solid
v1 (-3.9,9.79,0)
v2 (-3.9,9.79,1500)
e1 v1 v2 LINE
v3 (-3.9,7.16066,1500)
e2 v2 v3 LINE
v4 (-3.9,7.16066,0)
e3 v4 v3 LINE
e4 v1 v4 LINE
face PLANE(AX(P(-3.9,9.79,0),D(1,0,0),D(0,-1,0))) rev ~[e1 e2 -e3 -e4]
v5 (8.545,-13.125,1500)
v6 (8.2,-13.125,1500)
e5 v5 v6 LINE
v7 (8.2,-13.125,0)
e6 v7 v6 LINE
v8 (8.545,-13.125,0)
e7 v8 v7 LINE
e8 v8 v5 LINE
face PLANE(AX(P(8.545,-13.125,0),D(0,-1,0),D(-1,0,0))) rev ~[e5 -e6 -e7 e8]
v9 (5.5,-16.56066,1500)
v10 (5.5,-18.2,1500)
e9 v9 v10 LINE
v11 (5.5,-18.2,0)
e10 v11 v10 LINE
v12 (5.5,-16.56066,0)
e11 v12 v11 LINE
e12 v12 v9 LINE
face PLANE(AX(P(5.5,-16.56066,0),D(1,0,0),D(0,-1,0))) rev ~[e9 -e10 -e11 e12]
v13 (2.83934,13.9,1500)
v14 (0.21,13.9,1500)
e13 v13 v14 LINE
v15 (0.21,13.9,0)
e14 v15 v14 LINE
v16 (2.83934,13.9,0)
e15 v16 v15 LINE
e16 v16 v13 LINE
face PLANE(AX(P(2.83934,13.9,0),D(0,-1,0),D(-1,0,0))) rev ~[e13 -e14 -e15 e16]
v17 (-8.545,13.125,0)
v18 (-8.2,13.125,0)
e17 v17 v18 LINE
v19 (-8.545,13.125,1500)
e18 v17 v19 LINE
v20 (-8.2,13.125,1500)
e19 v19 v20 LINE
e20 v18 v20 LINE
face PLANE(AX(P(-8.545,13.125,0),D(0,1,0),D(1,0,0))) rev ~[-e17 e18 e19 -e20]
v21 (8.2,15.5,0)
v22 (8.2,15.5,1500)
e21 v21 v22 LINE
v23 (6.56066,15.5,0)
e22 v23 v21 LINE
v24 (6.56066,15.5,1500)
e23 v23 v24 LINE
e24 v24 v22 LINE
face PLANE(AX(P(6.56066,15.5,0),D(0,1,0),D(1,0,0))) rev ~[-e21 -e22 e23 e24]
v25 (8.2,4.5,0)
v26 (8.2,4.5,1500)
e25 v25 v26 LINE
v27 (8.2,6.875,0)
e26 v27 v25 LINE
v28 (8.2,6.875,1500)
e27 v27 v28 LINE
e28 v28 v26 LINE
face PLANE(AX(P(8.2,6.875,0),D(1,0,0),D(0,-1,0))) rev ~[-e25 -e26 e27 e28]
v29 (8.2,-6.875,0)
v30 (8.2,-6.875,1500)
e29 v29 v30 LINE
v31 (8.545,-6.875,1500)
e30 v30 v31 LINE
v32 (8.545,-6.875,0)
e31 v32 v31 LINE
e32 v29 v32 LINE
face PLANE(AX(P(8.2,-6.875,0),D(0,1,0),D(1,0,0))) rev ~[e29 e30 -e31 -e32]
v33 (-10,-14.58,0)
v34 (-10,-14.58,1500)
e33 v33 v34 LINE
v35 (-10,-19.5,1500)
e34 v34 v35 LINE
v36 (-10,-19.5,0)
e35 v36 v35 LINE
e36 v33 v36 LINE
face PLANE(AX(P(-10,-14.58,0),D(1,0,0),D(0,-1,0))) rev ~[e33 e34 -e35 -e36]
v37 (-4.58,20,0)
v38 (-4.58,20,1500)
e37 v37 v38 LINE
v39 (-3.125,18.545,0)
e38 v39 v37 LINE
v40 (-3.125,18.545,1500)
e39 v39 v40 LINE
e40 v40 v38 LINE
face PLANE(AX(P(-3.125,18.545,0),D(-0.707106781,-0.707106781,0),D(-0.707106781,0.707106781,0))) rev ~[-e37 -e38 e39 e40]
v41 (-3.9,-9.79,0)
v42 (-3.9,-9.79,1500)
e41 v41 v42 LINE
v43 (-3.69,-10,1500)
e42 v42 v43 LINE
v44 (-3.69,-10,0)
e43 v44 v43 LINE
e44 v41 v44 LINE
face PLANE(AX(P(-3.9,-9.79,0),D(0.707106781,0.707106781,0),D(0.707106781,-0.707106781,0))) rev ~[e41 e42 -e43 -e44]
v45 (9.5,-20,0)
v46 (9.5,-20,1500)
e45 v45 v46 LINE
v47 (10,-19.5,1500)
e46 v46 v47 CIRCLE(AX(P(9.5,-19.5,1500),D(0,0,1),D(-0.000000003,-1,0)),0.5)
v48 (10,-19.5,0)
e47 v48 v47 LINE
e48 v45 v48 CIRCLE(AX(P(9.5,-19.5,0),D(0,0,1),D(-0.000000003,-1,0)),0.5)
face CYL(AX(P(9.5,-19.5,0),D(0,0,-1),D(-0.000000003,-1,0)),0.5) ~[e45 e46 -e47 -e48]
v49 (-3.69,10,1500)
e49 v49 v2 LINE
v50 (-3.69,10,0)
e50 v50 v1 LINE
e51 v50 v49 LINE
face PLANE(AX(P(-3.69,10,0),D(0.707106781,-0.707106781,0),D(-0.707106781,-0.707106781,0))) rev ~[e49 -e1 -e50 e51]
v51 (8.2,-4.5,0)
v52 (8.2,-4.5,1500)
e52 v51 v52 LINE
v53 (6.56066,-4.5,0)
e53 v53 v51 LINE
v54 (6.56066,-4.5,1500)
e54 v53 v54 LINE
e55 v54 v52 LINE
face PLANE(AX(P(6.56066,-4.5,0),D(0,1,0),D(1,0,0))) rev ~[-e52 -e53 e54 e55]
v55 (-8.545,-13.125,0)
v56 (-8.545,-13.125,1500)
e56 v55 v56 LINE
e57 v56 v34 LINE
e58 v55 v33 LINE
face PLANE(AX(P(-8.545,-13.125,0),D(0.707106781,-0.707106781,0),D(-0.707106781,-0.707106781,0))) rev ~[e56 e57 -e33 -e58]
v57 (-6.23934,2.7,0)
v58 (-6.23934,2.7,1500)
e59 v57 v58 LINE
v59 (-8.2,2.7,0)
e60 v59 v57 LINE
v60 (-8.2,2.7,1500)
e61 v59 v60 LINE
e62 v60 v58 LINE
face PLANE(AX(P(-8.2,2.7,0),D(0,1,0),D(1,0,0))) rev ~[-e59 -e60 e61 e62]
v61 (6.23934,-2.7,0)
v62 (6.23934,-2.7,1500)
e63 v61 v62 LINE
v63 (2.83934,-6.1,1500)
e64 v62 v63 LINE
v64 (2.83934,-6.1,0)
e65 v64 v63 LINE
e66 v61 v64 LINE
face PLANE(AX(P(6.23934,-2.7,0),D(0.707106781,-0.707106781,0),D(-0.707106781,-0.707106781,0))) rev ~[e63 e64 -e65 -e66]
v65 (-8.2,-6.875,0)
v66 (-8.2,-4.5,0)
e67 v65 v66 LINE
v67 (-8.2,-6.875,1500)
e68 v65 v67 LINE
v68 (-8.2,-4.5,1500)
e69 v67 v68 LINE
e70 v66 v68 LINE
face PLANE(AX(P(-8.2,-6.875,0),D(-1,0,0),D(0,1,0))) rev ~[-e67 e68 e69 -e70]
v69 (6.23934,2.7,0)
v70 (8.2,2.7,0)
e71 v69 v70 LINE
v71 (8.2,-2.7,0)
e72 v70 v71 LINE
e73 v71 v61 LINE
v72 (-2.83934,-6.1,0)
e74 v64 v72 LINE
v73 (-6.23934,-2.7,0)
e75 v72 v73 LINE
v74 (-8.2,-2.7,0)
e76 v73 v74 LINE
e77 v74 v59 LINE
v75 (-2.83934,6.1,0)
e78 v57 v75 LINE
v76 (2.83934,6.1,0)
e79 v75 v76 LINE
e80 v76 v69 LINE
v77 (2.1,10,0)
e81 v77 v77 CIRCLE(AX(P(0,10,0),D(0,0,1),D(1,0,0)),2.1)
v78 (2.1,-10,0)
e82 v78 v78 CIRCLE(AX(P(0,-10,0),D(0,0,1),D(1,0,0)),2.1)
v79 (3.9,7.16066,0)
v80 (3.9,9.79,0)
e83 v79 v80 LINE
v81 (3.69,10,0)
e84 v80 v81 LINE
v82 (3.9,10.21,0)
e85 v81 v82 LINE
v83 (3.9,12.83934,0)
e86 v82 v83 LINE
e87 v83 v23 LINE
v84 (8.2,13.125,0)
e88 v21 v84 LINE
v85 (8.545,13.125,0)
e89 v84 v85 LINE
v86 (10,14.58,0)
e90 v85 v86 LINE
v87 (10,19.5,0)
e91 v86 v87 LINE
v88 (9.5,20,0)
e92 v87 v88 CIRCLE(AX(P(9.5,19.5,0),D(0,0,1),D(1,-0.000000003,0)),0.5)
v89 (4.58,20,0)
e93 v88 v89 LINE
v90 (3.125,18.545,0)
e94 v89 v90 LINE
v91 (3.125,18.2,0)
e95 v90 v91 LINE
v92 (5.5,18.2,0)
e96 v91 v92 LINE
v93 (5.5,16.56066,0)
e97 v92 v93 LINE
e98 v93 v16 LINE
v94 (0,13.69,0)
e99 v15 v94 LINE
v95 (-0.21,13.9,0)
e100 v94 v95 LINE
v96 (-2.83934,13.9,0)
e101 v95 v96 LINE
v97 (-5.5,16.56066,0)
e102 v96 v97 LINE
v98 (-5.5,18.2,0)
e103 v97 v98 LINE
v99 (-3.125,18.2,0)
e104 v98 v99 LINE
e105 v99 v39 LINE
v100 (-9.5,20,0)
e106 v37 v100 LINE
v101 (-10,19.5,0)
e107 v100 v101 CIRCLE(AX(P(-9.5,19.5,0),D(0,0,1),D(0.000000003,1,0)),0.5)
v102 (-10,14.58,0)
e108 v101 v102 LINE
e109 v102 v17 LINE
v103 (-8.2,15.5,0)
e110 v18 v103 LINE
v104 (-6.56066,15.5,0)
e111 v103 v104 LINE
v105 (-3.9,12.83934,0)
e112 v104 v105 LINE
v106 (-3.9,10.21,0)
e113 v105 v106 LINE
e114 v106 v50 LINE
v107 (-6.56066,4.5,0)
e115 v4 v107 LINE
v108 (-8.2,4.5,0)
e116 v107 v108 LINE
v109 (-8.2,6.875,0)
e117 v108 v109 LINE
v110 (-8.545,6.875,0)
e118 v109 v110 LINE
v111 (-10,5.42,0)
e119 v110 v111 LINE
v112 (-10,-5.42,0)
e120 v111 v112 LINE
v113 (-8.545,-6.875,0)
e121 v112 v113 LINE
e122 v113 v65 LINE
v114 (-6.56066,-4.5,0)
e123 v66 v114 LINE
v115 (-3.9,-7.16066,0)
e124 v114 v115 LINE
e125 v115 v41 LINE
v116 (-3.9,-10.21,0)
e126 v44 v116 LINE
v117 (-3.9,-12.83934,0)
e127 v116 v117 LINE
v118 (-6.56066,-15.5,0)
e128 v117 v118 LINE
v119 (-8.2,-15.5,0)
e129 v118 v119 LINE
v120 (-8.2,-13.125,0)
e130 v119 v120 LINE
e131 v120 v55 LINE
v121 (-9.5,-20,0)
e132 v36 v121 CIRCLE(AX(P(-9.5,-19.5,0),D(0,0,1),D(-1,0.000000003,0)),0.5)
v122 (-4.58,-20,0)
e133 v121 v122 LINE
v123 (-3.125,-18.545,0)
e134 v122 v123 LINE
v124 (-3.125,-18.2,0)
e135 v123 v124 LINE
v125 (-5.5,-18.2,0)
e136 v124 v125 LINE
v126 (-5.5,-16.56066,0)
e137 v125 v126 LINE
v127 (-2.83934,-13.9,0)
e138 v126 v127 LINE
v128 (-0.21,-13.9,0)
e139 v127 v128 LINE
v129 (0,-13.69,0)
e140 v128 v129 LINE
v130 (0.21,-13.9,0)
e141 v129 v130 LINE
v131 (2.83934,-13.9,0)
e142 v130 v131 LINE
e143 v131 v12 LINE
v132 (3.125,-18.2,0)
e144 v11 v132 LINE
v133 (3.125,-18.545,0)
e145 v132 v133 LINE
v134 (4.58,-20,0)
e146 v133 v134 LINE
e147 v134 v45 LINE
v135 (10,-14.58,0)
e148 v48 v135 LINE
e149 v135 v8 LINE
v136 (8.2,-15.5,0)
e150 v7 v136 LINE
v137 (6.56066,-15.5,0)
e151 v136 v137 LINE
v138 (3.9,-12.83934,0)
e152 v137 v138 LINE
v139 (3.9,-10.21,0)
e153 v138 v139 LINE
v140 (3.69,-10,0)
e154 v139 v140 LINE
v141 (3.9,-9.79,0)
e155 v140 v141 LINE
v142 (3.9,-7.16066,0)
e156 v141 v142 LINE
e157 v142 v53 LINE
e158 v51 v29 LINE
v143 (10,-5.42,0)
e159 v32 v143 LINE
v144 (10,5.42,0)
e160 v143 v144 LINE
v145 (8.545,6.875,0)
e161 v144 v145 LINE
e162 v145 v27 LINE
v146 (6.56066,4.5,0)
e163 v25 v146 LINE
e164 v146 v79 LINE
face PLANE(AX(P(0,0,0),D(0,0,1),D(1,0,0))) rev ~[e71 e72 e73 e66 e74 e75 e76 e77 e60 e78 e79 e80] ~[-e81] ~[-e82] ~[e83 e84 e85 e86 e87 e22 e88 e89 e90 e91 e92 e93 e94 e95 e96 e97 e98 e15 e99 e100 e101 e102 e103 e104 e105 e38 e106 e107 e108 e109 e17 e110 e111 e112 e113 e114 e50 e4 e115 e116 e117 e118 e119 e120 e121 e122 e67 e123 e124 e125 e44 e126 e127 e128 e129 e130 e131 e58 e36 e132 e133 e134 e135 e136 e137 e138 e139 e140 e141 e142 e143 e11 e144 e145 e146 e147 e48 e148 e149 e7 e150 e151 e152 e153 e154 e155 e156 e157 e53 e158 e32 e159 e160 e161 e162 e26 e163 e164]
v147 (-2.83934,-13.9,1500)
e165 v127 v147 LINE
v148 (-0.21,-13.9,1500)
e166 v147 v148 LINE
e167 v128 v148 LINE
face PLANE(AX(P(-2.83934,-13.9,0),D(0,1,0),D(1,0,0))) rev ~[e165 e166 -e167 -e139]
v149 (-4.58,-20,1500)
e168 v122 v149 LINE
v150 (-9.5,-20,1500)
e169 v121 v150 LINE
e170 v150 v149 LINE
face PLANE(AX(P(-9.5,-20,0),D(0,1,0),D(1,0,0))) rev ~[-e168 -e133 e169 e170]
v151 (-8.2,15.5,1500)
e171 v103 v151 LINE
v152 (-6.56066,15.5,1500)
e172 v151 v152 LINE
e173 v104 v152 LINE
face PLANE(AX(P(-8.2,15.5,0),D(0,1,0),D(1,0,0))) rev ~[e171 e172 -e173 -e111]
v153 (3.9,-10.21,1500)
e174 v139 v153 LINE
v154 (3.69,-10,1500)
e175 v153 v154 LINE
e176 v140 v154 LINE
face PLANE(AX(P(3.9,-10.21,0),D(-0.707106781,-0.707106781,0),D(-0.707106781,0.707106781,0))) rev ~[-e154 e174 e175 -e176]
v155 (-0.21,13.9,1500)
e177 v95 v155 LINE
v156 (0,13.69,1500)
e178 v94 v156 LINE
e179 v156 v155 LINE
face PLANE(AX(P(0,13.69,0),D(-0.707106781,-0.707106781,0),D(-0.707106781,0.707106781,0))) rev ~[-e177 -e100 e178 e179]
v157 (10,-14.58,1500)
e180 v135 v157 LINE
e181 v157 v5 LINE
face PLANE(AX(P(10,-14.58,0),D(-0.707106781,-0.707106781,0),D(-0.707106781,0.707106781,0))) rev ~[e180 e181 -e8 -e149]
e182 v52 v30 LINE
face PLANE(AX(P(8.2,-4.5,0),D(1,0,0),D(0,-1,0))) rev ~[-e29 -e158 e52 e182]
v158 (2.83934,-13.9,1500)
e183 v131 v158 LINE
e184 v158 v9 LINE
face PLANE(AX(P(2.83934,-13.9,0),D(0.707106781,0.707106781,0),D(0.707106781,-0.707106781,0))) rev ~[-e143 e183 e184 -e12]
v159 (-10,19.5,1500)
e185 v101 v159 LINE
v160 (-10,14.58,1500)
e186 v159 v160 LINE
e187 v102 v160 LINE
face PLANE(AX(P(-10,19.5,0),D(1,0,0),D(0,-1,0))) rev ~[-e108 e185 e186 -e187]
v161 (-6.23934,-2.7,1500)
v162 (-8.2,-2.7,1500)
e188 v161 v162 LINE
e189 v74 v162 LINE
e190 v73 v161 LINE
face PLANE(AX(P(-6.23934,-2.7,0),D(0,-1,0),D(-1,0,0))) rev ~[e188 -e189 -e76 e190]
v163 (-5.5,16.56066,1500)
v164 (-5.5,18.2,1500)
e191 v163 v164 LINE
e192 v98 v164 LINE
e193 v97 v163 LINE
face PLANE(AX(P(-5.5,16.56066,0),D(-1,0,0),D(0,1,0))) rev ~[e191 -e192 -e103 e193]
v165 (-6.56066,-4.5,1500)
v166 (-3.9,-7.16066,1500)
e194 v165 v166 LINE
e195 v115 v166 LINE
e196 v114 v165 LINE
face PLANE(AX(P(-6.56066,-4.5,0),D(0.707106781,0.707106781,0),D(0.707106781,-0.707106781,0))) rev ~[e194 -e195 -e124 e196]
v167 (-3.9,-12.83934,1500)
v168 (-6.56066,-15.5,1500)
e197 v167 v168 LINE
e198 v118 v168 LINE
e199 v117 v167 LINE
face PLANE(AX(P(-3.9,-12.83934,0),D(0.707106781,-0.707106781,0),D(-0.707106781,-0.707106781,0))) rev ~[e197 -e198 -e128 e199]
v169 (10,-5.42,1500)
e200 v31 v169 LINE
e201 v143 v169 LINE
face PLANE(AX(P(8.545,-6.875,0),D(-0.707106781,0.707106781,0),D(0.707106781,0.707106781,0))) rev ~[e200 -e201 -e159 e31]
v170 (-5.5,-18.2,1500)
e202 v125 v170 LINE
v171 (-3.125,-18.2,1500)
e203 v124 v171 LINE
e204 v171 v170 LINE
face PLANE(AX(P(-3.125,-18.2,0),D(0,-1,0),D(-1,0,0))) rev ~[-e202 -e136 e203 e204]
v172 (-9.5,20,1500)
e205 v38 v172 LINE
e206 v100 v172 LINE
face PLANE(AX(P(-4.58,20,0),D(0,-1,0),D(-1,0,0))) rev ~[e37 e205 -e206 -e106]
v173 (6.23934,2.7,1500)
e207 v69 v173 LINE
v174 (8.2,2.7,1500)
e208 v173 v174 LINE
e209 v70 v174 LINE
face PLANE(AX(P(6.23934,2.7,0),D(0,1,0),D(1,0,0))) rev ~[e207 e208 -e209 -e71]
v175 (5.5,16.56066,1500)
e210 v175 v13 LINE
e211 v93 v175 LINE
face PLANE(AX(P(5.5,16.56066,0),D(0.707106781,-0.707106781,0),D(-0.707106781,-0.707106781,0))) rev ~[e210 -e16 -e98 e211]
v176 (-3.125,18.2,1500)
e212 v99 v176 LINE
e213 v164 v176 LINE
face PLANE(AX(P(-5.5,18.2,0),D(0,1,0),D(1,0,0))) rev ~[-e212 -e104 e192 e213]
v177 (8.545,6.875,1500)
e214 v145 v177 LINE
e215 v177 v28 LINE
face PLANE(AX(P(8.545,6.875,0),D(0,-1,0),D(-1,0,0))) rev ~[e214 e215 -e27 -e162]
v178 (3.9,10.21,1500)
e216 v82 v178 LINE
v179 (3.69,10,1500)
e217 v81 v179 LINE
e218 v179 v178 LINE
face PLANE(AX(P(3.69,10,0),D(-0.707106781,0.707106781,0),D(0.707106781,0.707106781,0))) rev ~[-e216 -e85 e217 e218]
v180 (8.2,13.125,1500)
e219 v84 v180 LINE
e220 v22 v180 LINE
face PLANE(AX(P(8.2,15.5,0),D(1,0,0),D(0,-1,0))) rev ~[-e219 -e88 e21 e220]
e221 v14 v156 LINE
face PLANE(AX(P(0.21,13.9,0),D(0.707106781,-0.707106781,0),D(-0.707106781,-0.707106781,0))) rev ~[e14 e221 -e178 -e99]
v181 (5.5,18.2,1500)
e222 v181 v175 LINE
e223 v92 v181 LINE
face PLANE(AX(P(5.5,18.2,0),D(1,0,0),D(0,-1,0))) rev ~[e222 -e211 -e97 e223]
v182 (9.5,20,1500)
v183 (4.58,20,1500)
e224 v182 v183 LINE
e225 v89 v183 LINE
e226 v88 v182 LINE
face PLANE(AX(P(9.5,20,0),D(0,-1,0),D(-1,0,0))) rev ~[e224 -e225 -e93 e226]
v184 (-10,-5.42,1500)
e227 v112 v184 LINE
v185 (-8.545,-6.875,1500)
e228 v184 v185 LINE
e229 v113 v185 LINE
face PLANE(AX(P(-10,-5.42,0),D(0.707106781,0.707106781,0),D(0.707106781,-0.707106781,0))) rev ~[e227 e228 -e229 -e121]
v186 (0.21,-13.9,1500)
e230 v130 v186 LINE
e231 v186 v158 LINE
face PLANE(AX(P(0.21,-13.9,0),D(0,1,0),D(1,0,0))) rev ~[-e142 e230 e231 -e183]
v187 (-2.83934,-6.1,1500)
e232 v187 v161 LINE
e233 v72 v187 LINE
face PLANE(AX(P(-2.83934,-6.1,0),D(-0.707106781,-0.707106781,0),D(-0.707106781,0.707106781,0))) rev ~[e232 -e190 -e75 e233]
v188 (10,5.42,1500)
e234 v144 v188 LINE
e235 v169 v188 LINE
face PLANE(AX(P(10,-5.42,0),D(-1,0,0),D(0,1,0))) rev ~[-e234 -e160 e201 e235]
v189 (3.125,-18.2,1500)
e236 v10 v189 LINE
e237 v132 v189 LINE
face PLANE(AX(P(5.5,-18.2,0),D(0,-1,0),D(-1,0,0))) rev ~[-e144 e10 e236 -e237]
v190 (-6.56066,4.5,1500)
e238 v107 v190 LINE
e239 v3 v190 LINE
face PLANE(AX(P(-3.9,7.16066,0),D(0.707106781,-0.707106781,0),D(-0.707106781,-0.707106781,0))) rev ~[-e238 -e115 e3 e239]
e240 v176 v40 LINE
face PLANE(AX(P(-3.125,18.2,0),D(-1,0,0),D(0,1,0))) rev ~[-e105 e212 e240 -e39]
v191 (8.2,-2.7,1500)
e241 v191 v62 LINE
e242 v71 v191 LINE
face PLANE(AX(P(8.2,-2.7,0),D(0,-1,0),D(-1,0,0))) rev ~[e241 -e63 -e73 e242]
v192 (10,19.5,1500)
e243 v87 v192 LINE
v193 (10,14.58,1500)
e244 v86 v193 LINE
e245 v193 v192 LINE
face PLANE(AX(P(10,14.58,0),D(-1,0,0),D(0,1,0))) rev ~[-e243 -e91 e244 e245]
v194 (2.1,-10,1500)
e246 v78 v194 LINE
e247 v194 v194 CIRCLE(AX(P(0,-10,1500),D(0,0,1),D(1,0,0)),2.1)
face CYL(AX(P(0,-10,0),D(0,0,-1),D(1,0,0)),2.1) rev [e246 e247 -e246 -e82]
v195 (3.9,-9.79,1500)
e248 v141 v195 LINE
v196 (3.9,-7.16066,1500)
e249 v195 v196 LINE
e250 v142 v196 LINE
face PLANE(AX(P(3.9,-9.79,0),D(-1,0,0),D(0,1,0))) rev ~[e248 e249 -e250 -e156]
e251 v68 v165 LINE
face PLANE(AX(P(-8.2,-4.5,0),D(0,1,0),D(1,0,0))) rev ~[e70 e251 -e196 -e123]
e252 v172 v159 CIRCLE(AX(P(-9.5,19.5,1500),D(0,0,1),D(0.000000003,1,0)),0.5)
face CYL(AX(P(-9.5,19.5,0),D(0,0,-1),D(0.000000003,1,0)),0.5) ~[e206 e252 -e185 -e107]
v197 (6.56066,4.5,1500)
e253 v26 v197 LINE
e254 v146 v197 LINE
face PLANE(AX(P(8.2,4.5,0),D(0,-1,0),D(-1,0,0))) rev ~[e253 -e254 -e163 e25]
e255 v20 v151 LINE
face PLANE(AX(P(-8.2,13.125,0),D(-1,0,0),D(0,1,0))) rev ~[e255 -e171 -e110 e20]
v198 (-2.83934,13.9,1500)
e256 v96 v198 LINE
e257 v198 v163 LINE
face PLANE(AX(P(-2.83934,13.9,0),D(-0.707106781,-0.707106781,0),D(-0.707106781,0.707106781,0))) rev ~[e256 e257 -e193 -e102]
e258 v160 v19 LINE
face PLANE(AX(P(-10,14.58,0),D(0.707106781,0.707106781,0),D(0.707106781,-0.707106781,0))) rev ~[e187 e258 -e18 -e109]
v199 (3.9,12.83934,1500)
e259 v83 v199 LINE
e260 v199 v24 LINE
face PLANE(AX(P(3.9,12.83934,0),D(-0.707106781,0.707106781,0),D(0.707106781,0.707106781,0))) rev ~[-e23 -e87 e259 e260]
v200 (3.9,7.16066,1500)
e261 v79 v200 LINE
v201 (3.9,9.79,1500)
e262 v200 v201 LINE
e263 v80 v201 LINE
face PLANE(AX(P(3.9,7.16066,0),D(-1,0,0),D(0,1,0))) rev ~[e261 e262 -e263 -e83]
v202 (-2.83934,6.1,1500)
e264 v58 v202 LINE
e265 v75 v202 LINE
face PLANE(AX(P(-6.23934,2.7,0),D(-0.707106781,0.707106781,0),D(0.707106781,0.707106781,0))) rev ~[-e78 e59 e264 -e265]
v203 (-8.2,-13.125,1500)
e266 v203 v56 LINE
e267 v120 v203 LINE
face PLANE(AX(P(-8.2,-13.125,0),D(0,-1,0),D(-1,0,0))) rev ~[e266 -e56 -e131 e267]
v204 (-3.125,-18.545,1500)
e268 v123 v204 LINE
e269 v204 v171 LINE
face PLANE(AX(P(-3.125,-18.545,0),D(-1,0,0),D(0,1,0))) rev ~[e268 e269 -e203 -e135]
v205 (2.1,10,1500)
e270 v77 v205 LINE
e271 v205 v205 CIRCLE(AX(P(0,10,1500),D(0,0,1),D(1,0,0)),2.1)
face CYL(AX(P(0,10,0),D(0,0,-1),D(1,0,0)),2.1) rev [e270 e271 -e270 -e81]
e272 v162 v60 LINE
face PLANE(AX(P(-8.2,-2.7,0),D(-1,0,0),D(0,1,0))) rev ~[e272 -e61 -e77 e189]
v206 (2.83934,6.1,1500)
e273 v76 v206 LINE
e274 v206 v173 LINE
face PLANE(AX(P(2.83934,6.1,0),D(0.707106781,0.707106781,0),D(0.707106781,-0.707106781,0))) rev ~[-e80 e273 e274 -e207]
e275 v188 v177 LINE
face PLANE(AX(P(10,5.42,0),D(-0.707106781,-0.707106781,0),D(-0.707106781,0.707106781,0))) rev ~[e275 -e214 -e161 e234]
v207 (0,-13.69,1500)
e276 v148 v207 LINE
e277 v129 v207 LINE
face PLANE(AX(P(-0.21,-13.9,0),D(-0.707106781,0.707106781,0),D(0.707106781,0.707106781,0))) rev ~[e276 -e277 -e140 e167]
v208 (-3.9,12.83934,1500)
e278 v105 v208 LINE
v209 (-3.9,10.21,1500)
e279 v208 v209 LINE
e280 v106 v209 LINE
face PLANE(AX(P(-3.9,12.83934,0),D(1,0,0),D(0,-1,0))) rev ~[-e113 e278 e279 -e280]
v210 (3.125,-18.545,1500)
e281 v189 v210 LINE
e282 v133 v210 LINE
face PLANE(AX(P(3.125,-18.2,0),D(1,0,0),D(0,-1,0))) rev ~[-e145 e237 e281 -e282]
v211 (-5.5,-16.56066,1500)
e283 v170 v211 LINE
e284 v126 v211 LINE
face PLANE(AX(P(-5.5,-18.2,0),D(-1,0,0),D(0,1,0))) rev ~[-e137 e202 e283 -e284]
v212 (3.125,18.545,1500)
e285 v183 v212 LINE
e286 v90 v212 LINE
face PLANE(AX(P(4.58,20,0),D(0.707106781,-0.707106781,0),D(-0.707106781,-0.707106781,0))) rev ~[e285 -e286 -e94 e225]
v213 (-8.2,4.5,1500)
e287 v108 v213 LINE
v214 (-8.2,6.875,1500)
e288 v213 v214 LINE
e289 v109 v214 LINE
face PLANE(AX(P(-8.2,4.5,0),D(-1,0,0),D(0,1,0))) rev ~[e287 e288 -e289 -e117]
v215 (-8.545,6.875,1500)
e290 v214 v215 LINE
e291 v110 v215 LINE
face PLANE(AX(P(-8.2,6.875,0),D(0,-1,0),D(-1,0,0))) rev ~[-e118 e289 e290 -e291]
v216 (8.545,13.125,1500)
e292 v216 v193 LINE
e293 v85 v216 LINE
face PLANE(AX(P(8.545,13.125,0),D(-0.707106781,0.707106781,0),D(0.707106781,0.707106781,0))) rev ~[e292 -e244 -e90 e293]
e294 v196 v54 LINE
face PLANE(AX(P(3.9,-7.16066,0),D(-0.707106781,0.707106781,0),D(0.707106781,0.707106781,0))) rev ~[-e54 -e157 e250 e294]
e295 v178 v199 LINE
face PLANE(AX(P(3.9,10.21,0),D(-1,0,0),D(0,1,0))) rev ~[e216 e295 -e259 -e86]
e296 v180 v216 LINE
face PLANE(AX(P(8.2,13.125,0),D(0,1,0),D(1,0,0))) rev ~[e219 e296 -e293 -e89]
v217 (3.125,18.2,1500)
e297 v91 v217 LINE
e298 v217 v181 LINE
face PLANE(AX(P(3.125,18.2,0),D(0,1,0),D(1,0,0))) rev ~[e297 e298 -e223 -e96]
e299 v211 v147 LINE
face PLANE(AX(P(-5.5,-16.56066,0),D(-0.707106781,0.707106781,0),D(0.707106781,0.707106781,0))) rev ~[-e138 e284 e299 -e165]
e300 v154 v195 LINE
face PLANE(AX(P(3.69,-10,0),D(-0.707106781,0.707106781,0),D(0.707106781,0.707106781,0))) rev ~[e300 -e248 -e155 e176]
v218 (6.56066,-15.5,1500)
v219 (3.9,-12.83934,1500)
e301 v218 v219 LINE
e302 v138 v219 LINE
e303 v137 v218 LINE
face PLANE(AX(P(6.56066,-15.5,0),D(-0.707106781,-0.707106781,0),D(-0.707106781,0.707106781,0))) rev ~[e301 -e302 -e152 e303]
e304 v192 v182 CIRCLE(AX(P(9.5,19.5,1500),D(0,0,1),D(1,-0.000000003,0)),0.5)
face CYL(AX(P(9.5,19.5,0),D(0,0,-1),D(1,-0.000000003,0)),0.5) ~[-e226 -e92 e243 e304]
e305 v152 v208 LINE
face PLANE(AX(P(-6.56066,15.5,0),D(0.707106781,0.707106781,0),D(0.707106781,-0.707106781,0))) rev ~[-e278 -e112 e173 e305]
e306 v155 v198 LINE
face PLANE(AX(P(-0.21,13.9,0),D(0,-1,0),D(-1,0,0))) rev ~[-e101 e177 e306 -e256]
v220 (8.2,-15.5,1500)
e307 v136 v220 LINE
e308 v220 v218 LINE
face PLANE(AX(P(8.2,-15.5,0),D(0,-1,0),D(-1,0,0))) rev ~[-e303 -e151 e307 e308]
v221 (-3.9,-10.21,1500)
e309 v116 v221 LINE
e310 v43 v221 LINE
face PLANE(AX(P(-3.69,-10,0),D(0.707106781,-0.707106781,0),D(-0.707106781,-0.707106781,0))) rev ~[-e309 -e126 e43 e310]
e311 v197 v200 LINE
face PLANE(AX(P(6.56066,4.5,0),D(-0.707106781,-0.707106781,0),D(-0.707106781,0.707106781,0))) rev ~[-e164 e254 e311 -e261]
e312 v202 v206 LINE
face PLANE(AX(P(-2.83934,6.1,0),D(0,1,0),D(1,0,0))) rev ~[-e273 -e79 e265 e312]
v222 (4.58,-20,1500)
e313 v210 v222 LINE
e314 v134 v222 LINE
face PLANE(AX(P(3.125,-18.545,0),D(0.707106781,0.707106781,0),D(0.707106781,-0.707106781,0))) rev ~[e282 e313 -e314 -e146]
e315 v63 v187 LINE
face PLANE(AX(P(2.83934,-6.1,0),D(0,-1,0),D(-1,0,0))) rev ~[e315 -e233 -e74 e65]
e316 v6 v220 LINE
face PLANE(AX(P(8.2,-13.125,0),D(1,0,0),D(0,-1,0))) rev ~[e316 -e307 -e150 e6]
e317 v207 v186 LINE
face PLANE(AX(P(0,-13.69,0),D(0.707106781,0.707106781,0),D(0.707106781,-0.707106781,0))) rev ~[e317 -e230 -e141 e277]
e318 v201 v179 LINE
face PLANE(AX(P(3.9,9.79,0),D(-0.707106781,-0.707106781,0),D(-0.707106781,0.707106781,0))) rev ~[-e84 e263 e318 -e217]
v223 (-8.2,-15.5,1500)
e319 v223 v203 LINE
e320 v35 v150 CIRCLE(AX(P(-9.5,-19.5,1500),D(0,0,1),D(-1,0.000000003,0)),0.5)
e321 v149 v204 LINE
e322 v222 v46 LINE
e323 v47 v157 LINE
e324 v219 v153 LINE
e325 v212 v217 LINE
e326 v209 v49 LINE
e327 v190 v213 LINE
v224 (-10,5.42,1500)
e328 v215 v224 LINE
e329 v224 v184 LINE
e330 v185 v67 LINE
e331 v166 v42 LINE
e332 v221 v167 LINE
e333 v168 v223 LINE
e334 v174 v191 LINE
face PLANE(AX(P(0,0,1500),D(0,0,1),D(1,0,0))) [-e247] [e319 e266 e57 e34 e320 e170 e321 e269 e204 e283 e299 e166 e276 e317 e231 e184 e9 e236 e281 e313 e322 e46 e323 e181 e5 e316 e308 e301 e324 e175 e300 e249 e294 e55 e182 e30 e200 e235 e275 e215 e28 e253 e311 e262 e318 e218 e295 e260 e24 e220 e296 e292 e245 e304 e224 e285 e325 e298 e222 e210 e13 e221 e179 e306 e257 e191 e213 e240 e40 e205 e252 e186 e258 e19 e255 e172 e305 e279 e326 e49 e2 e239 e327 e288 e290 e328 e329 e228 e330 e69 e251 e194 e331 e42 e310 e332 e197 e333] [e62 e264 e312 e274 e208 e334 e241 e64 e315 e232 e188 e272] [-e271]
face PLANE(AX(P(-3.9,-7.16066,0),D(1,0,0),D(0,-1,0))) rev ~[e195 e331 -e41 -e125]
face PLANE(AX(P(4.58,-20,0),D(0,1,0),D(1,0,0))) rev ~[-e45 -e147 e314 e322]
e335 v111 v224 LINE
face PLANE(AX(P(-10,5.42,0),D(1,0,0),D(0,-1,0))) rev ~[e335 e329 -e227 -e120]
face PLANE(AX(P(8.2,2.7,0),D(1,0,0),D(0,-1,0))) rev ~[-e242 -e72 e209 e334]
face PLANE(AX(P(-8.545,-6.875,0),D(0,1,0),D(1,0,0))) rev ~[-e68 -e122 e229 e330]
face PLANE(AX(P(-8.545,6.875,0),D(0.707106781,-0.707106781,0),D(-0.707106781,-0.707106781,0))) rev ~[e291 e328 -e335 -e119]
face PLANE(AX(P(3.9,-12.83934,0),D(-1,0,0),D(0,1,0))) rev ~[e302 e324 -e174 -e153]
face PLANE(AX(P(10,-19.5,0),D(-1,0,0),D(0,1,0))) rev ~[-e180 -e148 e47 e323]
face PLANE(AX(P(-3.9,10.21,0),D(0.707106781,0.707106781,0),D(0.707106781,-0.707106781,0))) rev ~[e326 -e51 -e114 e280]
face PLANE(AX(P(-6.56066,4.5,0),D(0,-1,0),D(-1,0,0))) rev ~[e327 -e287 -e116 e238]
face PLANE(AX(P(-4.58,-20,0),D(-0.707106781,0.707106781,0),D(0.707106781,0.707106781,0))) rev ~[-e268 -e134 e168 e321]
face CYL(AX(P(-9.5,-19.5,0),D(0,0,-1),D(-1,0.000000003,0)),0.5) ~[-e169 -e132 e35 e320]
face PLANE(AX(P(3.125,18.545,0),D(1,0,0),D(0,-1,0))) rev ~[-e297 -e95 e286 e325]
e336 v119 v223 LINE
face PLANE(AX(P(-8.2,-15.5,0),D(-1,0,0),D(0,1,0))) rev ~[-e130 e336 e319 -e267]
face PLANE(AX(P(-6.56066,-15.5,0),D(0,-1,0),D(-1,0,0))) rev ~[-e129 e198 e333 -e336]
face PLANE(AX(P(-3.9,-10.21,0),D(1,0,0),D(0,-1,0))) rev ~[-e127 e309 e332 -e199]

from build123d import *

# Parameters (mm, degrees)
SKETCH1_R           = 2.1
BOSS_EXTRUDE1_DEPTH = 1500


with BuildPart() as part:
    # Sketch1 → Boss-Extrude1 (new body)
    with BuildSketch(Plane.XY):
        with BuildLine():
            Line((4.58, -20), (9.5, -20))
            ThreePointArc((9.5, -20), (9.853553391, -19.853553391), (10, -19.5))
            Line((10, -19.5), (10, -14.58))
            Line((10, -14.58), (8.545, -13.125))
            Line((8.545, -13.125), (8.2, -13.125))
            Line((8.2, -13.125), (8.2, -15.5))
            Line((8.2, -15.5), (6.560660172, -15.5))
            Line((6.560660172, -15.5), (3.9, -12.839339828))
            Line((3.9, -12.839339828), (3.9, -10.21))
            Line((3.9, -10.21), (3.69, -10))
            Line((3.69, -10), (3.9, -9.79))
            Line((3.9, -9.79), (3.9, -7.160660172))
            Line((3.9, -7.160660172), (6.560660172, -4.5))
            Line((6.560660172, -4.5), (8.2, -4.5))
            Line((8.2, -4.5), (8.2, -6.875))
            Line((8.2, -6.875), (8.545, -6.875))
            Line((8.545, -6.875), (10, -5.42))
            Line((10, -5.42), (10, 5.42))
            Line((10, 5.42), (8.545, 6.875))
            Line((8.545, 6.875), (8.2, 6.875))
            Line((8.2, 6.875), (8.2, 4.5))
            Line((8.2, 4.5), (6.560660172, 4.5))
            Line((6.560660172, 4.5), (3.9, 7.160660172))
            Line((3.9, 7.160660172), (3.9, 9.79))
            Line((3.9, 9.79), (3.69, 10))
            Line((3.69, 10), (3.9, 10.21))
            Line((3.9, 10.21), (3.9, 12.839339828))
            Line((3.9, 12.839339828), (6.560660172, 15.5))
            Line((6.560660172, 15.5), (8.2, 15.5))
            Line((8.2, 15.5), (8.2, 13.125))
            Line((8.2, 13.125), (8.545, 13.125))
            Line((8.545, 13.125), (10, 14.58))
            Line((10, 14.58), (10, 19.5))
            ThreePointArc((10, 19.5), (9.853553391, 19.853553391), (9.5, 20))
            Line((9.5, 20), (4.58, 20))
            Line((4.58, 20), (3.125, 18.545))
            Line((3.125, 18.545), (3.125, 18.2))
            Line((3.125, 18.2), (5.5, 18.2))
            Line((5.5, 18.2), (5.5, 16.560660172))
            Line((5.5, 16.560660172), (2.839339828, 13.9))
            Line((2.839339828, 13.9), (0.21, 13.9))
            Line((0.21, 13.9), (0, 13.69))
            Line((0, 13.69), (-0.21, 13.9))
            Line((-0.21, 13.9), (-2.839339828, 13.9))
            Line((-2.839339828, 13.9), (-5.5, 16.560660172))
            Line((-5.5, 16.560660172), (-5.5, 18.2))
            Line((-5.5, 18.2), (-3.125, 18.2))
            Line((-3.125, 18.2), (-3.125, 18.545))
            Line((-3.125, 18.545), (-4.58, 20))
            Line((-4.58, 20), (-9.5, 20))
            ThreePointArc((-9.5, 20), (-9.853553391, 19.853553391), (-10, 19.5))
            Line((-10, 19.5), (-10, 14.58))
            Line((-10, 14.58), (-8.545, 13.125))
            Line((-8.545, 13.125), (-8.2, 13.125))
            Line((-8.2, 13.125), (-8.2, 15.5))
            Line((-8.2, 15.5), (-6.560660172, 15.5))
            Line((-6.560660172, 15.5), (-3.9, 12.839339828))
            Line((-3.9, 12.839339828), (-3.9, 10.21))
            Line((-3.9, 10.21), (-3.69, 10))
            Line((-3.69, 10), (-3.9, 9.79))
            Line((-3.9, 9.79), (-3.9, 7.160660172))
            Line((-3.9, 7.160660172), (-6.560660172, 4.5))
            Line((-6.560660172, 4.5), (-8.2, 4.5))
            Line((-8.2, 4.5), (-8.2, 6.875))
            Line((-8.2, 6.875), (-8.545, 6.875))
            Line((-8.545, 6.875), (-10, 5.42))
            Line((-10, 5.42), (-10, -5.42))
            Line((-10, -5.42), (-8.545, -6.875))
            Line((-8.545, -6.875), (-8.2, -6.875))
            Line((-8.2, -6.875), (-8.2, -4.5))
            Line((-8.2, -4.5), (-6.560660172, -4.5))
            Line((-6.560660172, -4.5), (-3.9, -7.160660172))
            Line((-3.9, -7.160660172), (-3.9, -9.79))
            Line((-3.9, -9.79), (-3.69, -10))
            Line((-3.69, -10), (-3.9, -10.21))
            Line((-3.9, -10.21), (-3.9, -12.839339828))
            Line((-3.9, -12.839339828), (-6.560660172, -15.5))
            Line((-6.560660172, -15.5), (-8.2, -15.5))
            Line((-8.2, -15.5), (-8.2, -13.125))
            Line((-8.2, -13.125), (-8.545, -13.125))
            Line((-8.545, -13.125), (-10, -14.58))
            Line((-10, -14.58), (-10, -19.5))
            ThreePointArc((-10, -19.5), (-9.853553391, -19.853553391), (-9.5, -20))
            Line((-9.5, -20), (-4.58, -20))
            Line((-4.58, -20), (-3.125, -18.545))
            Line((-3.125, -18.545), (-3.125, -18.2))
            Line((-3.125, -18.2), (-5.5, -18.2))
            Line((-5.5, -18.2), (-5.5, -16.560660172))
            Line((-5.5, -16.560660172), (-2.839339828, -13.9))
            Line((-2.839339828, -13.9), (-0.21, -13.9))
            Line((-0.21, -13.9), (0, -13.69))
            Line((0, -13.69), (0.21, -13.9))
            Line((0.21, -13.9), (2.839339828, -13.9))
            Line((2.839339828, -13.9), (5.5, -16.560660172))
            Line((5.5, -16.560660172), (5.5, -18.2))
            Line((5.5, -18.2), (3.125, -18.2))
            Line((3.125, -18.2), (3.125, -18.545))
            Line((3.125, -18.545), (4.58, -20))
        make_face()
        with Locations((0, -10)):
            Circle(SKETCH1_R, mode=Mode.SUBTRACT)
        Polygon((-6.239339828, -2.7), (-8.2, -2.7), (-8.2, 2.7), (-6.239339828, 2.7), (-2.839339828, 6.1), (2.839339828, 6.1), (6.239339828, 2.7), (8.2, 2.7), (8.2, -2.7), (6.239339828, -2.7), (2.839339828, -6.1), (-2.839339828, -6.1), align=None, mode=Mode.SUBTRACT)
        with Locations((0, 10)):
            Circle(SKETCH1_R, mode=Mode.SUBTRACT)
    extrude(amount=BOSS_EXTRUDE1_DEPTH)


solid = part.part
